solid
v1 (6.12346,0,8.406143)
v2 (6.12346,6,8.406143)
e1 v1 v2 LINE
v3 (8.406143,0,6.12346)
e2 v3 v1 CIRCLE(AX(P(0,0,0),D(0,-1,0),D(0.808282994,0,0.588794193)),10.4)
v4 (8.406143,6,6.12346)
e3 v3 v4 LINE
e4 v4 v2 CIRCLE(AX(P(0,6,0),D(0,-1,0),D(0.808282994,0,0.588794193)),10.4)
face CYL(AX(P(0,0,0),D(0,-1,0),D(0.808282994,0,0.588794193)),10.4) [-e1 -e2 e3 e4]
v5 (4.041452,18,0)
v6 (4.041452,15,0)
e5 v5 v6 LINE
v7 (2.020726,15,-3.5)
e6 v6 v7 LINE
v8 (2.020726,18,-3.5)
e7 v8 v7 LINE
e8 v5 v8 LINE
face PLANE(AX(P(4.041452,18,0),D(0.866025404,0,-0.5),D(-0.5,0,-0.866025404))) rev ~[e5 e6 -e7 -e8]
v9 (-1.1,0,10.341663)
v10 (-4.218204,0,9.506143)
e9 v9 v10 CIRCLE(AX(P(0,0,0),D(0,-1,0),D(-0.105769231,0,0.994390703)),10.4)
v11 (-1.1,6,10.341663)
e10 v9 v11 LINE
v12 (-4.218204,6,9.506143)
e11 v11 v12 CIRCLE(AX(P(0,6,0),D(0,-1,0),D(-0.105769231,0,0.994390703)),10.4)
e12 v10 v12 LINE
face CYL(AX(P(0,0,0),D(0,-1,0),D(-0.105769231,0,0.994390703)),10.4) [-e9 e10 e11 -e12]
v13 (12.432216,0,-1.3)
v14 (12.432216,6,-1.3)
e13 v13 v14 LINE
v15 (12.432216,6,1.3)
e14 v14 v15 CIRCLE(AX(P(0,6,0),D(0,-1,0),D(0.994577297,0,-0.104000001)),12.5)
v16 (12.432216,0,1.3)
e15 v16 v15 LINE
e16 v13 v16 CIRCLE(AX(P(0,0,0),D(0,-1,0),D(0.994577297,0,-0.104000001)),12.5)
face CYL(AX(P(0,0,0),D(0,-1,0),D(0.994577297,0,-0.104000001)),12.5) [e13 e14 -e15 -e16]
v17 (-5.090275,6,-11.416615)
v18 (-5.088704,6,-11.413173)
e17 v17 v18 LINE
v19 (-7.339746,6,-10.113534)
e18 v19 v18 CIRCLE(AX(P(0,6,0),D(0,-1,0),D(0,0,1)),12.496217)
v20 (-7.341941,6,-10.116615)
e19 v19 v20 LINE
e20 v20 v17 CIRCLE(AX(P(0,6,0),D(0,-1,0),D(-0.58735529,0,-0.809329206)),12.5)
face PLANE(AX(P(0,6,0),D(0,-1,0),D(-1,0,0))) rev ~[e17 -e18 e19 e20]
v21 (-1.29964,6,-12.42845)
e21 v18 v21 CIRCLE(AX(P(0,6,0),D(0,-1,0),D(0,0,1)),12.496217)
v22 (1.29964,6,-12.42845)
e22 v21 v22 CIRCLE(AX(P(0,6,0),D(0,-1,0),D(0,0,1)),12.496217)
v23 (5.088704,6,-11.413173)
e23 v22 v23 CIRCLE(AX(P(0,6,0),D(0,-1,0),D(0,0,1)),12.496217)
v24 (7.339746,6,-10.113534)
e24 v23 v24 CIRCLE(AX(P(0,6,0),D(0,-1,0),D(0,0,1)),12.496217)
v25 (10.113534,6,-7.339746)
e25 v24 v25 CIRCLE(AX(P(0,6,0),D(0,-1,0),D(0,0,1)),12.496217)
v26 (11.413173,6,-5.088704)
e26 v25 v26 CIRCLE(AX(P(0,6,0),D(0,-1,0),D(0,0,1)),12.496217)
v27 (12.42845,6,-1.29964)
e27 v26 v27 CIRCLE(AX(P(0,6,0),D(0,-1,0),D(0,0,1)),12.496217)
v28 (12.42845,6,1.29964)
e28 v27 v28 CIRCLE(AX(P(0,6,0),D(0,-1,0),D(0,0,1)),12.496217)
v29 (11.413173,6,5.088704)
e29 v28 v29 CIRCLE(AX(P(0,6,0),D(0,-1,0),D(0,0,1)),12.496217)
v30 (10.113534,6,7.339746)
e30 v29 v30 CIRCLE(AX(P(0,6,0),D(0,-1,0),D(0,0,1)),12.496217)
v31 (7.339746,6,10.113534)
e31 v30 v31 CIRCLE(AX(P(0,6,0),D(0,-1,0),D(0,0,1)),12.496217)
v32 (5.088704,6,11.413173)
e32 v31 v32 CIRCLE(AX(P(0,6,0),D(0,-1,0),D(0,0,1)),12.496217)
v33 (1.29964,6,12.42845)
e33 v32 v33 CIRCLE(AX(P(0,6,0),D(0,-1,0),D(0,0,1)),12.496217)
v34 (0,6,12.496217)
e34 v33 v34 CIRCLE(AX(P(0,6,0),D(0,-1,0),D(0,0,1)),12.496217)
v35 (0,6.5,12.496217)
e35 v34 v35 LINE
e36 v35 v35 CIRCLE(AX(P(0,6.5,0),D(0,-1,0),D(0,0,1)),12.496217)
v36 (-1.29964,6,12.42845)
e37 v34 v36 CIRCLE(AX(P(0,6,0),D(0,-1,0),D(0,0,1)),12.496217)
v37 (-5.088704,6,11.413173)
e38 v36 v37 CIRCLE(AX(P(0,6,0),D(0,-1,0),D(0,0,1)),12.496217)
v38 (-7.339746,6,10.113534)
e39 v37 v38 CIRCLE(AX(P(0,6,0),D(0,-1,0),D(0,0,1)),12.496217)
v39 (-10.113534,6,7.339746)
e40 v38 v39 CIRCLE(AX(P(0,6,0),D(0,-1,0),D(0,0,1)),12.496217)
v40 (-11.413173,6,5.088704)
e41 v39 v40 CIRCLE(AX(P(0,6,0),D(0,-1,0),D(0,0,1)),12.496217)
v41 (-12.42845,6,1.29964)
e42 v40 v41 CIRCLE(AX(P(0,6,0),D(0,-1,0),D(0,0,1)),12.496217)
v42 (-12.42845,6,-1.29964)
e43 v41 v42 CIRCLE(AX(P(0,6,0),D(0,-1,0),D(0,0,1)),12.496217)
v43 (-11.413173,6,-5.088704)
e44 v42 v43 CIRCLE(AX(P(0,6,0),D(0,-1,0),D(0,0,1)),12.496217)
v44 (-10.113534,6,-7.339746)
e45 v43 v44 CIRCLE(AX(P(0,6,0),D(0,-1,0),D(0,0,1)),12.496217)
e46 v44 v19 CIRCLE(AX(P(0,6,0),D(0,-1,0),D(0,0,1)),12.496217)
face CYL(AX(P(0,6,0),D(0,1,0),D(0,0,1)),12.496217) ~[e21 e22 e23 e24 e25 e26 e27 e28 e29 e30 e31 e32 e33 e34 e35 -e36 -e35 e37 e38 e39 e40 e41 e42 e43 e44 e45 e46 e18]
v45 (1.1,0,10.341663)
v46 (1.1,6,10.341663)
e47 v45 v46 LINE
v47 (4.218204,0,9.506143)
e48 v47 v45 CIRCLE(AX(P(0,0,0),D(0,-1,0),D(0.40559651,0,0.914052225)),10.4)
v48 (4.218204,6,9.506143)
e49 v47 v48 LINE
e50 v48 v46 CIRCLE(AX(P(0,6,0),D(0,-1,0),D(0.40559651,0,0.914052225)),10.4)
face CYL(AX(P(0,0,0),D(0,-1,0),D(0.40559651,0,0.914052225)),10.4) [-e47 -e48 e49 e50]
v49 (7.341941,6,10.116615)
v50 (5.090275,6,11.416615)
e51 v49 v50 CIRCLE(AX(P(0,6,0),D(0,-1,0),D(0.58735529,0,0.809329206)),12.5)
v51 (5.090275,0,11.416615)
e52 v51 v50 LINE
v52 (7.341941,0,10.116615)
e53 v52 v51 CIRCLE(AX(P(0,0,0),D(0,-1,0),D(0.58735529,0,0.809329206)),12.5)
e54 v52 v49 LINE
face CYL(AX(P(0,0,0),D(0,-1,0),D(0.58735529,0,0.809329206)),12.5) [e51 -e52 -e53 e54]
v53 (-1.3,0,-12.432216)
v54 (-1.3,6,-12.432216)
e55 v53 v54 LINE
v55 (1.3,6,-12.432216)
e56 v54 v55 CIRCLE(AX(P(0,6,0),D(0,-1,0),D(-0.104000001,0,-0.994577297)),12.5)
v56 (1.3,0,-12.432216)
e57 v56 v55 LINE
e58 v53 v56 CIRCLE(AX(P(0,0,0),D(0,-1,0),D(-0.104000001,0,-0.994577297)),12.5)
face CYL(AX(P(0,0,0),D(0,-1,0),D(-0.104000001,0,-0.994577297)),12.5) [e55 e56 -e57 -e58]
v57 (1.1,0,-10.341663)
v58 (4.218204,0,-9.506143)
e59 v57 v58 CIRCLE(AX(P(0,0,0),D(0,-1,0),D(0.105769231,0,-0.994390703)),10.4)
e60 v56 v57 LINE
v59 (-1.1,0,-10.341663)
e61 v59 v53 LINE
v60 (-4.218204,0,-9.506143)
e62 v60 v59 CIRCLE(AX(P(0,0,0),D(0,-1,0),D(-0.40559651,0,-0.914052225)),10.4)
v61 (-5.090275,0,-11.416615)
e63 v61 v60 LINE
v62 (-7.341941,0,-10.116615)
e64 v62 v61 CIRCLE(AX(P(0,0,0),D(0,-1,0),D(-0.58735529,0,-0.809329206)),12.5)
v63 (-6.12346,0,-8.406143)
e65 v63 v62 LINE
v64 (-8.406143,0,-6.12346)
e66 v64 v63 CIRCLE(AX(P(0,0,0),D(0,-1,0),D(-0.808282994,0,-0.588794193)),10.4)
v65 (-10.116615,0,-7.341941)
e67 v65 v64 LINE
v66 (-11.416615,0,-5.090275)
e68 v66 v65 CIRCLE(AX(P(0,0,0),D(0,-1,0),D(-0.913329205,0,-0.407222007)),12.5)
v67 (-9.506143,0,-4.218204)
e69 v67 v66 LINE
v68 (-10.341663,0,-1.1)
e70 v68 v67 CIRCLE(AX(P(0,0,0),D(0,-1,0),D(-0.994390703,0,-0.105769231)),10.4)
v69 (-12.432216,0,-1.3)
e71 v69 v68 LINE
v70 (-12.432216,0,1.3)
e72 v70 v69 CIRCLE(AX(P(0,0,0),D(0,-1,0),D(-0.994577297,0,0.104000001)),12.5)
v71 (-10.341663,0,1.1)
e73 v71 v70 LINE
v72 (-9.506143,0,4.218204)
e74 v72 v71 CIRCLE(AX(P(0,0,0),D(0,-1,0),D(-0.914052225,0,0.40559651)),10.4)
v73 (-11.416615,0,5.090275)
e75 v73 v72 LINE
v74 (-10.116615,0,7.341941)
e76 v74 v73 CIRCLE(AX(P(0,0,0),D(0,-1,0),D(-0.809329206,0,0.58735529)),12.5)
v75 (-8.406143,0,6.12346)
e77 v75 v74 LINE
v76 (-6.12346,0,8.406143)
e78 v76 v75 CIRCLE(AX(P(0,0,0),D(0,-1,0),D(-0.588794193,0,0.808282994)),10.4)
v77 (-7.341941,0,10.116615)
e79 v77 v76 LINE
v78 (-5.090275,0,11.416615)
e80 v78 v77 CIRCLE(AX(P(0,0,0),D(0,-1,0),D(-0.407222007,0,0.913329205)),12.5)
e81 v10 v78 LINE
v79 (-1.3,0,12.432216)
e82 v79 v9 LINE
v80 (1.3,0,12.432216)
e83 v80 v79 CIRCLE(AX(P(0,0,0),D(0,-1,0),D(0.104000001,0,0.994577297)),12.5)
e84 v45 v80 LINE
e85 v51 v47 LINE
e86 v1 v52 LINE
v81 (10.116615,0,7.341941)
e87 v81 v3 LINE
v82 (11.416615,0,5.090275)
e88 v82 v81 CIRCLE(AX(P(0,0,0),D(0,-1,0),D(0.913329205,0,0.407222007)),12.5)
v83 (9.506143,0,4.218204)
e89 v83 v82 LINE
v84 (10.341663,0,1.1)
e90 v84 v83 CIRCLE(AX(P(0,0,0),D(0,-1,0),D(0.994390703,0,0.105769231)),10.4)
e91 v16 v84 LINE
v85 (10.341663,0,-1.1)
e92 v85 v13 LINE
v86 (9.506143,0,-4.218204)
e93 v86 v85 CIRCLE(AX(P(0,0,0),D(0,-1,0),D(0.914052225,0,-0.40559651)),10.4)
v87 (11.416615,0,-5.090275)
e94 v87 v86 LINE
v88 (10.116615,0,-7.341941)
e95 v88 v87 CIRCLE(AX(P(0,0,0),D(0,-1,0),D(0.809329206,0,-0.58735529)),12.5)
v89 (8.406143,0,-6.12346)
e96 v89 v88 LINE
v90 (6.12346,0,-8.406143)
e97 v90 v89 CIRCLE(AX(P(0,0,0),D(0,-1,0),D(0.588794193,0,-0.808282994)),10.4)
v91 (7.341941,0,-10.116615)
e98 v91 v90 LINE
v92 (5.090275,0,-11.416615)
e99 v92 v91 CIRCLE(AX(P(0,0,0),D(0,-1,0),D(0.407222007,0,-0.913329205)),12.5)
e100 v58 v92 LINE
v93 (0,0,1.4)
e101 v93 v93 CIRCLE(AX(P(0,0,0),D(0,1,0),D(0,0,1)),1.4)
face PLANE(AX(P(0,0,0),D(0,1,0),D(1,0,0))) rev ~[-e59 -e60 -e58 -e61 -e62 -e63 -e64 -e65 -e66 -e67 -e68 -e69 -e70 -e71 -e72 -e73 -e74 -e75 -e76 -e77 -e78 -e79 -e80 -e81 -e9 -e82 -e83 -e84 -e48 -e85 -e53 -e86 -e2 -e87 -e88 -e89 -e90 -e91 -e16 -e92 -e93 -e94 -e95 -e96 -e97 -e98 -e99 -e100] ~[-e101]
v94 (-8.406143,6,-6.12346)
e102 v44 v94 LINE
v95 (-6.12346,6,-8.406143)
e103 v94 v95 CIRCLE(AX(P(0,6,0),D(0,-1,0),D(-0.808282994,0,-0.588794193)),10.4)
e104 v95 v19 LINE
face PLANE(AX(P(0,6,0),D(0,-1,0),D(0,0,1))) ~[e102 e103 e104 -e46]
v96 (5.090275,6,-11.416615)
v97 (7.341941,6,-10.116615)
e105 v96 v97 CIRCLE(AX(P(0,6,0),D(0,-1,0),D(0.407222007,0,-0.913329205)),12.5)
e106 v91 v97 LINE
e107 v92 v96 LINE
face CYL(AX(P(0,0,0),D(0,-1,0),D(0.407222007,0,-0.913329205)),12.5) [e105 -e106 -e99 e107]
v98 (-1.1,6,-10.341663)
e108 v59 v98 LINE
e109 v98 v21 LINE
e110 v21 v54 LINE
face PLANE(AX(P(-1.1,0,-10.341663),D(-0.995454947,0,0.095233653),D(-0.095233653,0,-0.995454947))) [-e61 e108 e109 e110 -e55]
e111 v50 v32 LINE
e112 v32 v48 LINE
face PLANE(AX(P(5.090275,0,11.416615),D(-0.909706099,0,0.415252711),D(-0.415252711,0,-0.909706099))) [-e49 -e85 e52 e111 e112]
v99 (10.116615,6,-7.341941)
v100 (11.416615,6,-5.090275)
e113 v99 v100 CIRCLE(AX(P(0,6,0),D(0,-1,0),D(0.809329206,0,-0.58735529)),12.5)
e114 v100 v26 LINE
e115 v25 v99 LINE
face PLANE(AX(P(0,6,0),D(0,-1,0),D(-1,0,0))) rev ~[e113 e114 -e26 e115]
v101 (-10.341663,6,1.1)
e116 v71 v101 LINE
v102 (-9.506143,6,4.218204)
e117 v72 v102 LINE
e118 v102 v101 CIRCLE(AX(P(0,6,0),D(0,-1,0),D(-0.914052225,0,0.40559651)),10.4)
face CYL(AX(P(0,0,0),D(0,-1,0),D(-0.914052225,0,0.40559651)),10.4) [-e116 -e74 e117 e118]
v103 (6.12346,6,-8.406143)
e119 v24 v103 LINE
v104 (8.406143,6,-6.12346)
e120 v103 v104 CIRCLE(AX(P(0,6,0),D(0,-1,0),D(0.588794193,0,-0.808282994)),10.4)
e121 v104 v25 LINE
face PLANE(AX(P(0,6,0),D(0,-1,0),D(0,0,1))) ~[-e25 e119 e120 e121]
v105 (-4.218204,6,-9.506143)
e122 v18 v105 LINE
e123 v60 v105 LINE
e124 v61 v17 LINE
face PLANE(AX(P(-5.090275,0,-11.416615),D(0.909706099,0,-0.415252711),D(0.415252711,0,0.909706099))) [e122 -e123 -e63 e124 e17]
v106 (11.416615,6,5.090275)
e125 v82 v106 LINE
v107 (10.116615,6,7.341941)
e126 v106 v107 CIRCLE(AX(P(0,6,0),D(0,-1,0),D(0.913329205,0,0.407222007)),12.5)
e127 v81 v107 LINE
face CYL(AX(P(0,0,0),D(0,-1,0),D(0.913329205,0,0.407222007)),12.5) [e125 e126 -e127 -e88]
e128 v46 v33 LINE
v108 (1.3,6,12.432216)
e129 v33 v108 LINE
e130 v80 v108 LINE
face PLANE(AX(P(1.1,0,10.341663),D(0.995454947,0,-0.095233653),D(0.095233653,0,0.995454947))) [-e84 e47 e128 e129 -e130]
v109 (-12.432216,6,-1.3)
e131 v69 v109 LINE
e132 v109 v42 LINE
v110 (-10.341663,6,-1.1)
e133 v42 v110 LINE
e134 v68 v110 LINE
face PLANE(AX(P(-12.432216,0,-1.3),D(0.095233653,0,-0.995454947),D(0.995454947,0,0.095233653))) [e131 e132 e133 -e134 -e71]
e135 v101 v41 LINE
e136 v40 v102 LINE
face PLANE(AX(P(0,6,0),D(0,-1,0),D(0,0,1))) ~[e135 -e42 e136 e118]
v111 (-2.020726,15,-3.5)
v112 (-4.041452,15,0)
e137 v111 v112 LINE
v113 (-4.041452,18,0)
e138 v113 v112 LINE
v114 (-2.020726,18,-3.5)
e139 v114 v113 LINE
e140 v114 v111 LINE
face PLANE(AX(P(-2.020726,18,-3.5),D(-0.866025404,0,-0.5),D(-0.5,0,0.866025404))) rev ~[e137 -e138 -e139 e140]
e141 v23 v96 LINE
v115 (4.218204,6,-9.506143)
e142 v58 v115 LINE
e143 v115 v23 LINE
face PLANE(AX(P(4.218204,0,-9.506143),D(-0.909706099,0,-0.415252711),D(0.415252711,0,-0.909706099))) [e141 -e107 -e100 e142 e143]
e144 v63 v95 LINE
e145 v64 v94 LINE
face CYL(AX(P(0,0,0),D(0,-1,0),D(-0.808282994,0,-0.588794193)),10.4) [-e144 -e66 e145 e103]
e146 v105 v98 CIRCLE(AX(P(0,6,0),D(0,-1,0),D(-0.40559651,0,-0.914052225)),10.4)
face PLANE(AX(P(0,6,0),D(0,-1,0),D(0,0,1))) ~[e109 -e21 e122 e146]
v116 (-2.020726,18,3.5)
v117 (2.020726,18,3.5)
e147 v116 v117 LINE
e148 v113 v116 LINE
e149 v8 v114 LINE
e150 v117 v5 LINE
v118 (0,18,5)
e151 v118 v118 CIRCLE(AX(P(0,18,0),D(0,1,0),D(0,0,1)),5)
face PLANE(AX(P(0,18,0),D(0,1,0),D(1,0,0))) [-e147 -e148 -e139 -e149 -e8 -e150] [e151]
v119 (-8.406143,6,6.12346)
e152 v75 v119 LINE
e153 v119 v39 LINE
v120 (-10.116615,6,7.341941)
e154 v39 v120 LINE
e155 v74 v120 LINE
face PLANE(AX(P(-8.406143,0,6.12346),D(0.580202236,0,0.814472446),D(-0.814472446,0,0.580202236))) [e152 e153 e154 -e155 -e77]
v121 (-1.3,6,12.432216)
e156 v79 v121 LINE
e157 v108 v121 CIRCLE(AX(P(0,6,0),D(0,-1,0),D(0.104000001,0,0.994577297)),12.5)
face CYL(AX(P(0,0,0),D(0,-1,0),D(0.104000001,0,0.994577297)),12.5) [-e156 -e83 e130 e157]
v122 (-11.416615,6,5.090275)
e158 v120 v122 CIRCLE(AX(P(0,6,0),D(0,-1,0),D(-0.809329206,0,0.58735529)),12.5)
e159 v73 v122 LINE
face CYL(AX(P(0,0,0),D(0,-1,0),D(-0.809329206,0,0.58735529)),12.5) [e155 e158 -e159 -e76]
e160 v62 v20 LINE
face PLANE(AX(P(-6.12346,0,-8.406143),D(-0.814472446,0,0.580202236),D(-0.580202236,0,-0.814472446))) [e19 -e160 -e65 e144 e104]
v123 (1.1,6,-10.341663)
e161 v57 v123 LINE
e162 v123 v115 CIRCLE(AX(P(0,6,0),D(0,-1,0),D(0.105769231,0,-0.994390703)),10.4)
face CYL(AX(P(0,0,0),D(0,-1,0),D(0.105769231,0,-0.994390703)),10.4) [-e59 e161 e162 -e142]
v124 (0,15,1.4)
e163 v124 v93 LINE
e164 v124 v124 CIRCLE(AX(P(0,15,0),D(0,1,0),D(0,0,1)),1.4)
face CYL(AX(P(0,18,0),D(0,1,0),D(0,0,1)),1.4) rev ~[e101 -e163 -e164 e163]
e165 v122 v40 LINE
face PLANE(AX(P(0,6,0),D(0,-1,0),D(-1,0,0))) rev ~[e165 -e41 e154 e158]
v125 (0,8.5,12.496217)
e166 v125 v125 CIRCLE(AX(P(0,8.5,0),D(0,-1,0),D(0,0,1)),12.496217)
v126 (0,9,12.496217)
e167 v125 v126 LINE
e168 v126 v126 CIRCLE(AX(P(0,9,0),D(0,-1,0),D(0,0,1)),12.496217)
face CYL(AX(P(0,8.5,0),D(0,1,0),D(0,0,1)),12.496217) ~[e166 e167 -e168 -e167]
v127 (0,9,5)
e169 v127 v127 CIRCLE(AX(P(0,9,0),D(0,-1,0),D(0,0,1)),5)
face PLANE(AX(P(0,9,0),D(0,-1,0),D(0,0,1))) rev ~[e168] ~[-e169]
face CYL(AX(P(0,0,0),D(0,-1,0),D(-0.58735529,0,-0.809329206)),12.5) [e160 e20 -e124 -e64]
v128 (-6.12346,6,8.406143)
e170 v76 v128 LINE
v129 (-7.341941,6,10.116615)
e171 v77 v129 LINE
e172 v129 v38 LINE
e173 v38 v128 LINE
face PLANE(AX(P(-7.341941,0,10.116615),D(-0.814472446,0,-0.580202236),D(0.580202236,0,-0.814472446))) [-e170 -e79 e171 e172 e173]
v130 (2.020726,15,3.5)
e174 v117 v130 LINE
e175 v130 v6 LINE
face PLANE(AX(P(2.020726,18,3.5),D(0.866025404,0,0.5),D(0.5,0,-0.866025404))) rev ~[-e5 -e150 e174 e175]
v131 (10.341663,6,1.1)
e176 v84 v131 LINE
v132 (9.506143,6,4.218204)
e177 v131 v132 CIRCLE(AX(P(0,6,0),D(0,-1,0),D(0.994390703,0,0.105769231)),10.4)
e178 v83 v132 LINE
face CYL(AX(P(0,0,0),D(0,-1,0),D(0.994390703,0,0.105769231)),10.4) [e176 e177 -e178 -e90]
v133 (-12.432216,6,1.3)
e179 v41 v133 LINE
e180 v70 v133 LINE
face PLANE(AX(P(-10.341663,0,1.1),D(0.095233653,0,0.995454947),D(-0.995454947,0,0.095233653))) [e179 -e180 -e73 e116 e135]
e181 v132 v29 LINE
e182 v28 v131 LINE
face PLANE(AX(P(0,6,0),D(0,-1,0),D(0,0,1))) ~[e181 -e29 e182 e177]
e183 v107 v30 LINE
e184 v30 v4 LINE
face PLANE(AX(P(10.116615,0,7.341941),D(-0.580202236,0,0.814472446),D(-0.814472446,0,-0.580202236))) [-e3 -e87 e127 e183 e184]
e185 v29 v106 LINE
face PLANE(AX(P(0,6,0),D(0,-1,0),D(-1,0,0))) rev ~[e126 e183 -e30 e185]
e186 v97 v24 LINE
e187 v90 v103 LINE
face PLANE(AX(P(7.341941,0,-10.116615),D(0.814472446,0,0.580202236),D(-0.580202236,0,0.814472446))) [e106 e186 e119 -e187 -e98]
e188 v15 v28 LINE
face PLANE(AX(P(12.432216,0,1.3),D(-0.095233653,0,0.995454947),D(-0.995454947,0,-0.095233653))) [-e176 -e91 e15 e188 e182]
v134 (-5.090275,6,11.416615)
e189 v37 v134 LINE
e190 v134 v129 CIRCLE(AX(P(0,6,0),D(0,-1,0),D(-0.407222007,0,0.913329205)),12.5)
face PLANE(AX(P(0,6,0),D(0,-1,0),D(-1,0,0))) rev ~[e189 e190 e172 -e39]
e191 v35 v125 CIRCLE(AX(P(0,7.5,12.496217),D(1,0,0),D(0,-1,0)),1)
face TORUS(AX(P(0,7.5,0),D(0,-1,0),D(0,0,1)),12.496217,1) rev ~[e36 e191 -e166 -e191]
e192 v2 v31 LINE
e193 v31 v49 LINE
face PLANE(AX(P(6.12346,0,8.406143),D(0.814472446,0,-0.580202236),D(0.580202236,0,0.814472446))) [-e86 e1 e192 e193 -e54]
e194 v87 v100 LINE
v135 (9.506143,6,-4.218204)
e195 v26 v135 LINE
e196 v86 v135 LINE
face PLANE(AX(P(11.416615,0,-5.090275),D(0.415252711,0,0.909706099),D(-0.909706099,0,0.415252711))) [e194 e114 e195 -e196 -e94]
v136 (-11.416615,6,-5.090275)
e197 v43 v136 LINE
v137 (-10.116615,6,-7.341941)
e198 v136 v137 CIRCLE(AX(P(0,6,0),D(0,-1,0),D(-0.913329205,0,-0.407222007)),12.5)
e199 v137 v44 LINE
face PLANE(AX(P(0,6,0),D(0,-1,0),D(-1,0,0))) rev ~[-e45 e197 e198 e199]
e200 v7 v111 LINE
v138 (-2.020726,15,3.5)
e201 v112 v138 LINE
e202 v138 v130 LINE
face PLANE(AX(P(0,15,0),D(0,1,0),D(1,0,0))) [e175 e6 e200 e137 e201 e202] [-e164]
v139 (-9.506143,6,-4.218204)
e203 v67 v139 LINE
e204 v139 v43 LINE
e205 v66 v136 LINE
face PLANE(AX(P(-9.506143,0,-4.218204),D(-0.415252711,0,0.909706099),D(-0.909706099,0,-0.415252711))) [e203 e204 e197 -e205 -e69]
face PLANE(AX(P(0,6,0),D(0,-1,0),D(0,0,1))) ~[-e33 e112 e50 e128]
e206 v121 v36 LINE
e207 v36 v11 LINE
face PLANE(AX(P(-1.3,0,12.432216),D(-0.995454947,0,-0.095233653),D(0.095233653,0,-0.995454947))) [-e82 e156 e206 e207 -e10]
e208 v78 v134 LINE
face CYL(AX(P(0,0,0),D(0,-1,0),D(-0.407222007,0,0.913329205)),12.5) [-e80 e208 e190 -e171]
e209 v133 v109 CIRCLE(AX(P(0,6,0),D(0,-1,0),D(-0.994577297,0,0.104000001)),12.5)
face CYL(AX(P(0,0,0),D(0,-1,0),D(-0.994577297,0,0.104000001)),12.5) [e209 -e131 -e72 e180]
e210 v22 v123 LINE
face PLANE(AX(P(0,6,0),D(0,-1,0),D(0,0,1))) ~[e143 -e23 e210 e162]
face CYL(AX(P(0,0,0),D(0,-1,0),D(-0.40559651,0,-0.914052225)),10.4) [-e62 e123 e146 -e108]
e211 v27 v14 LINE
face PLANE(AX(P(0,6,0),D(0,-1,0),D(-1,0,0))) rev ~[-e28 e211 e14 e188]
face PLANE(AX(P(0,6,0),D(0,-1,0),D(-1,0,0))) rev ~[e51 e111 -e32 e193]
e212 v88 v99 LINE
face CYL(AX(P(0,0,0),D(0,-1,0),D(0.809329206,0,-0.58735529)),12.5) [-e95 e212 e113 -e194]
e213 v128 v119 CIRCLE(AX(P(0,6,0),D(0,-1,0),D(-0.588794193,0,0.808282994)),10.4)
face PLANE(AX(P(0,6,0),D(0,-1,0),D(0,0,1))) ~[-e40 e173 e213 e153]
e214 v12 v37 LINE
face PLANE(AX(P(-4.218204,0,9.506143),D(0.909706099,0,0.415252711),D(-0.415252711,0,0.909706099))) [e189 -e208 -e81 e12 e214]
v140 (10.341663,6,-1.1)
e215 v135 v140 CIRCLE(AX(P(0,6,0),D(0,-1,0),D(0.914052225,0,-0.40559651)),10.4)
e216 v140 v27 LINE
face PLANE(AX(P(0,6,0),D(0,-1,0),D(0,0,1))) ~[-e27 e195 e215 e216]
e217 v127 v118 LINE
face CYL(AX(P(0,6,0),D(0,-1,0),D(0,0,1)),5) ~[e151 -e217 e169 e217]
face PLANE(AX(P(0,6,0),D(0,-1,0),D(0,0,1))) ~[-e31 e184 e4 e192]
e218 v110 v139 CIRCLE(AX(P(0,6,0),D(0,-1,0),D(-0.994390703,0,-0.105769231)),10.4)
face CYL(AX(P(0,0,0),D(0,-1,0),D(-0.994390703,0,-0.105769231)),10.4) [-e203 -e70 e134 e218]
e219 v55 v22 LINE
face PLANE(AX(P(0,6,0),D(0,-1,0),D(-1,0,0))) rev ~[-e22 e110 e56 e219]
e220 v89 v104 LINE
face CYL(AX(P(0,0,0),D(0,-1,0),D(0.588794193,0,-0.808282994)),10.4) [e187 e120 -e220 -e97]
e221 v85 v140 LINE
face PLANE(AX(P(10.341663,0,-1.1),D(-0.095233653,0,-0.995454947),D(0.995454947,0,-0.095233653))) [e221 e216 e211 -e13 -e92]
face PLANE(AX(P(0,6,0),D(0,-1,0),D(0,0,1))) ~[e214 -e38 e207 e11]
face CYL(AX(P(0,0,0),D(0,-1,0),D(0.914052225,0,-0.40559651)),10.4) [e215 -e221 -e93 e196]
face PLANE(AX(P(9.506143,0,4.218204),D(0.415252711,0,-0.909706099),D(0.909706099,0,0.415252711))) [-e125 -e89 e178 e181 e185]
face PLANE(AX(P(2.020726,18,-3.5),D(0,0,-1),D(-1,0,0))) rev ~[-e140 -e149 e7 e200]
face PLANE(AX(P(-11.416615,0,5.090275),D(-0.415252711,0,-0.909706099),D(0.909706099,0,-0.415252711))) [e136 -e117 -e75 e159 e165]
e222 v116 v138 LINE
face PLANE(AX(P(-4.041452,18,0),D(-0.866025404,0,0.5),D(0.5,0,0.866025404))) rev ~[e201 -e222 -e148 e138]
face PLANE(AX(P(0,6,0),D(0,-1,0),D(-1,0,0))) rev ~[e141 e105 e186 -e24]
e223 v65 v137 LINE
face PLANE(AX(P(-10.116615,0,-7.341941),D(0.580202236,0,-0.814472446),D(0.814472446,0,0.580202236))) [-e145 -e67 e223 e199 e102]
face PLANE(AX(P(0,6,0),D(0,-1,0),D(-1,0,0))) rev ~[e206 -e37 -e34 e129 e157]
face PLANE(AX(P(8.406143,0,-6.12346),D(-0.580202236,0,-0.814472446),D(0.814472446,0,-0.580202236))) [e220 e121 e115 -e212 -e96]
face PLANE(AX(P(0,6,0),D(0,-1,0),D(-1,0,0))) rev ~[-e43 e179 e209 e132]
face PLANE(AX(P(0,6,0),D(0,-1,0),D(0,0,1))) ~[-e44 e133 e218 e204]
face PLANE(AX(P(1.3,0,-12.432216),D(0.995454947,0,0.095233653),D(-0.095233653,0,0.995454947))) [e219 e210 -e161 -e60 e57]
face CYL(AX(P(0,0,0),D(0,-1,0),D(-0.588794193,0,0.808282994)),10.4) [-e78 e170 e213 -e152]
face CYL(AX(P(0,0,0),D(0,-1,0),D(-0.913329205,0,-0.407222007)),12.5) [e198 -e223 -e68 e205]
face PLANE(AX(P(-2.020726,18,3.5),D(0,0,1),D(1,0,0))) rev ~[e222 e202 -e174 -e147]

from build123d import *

# Parameters (mm, degrees)
EXTRUDE_1_DEPTH     = 6
SKETCH_3_R          = 1.4
CUT_EXTRUDE_1_DEPTH = 6
SKETCH_4_R          = 5
EXTRUDE_2_DEPTH     = 12
CUT_EXTRUDE_2_DEPTH = 12
SKETCH_6_R          = 1.5
CUT_EXTRUDE_3_DEPTH = 31
SKETCH_7_R          = 1.5
SKETCH_7_R_2        = 1.4
EXTRUDE_3_DEPTH     = 18
CUT_EXTRUDE_4_DEPTH = 3


with BuildPart() as part:
    # 草图2 → 凸台-拉伸1 (new body)
    with BuildSketch(Plane(origin=(0, 0, 0), x_dir=(1, 0, 0), z_dir=(0, 1, 0))):
        with BuildLine():
            Line((-1.1, 10.341663309), (-1.3, 12.432216214))
            ThreePointArc((-1.3, 12.432216214), (0, 12.5), (1.3, 12.432216214))
            Line((1.3, 12.432216214), (1.1, 10.341663309))
            ThreePointArc((1.1, 10.341663309), (2.691718069, 10.045628593), (4.21820371, 9.506143143))
            Line((4.21820371, 9.506143143), (5.090275082, 11.416615067))
            ThreePointArc((5.090275082, 11.416615067), (6.25, 10.825317547), (7.341941132, 10.116615067))
            Line((7.341941132, 10.116615067), (6.123459599, 8.406143143))
            ThreePointArc((6.123459599, 8.406143143), (7.353910524, 7.353910524), (8.406143143, 6.123459599))
            Line((8.406143143, 6.123459599), (10.116615067, 7.341941132))
            ThreePointArc((10.116615067, 7.341941132), (10.825317547, 6.25), (11.416615067, 5.090275082))
            Line((11.416615067, 5.090275082), (9.506143143, 4.21820371))
            ThreePointArc((9.506143143, 4.21820371), (10.045628593, 2.691718069), (10.341663309, 1.1))
            Line((10.341663309, 1.1), (12.432216214, 1.3))
            ThreePointArc((12.432216214, 1.3), (12.5, 0), (12.432216214, -1.3))
            Line((12.432216214, -1.3), (10.341663309, -1.1))
            ThreePointArc((10.341663309, -1.1), (10.045628593, -2.691718069), (9.506143143, -4.21820371))
            Line((9.506143143, -4.21820371), (11.416615067, -5.090275082))
            ThreePointArc((11.416615067, -5.090275082), (10.825317547, -6.25), (10.116615067, -7.341941132))
            Line((10.116615067, -7.341941132), (8.406143143, -6.123459599))
            ThreePointArc((8.406143143, -6.123459599), (7.353910524, -7.353910524), (6.123459599, -8.406143143))
            Line((6.123459599, -8.406143143), (7.341941132, -10.116615067))
            ThreePointArc((7.341941132, -10.116615067), (6.25, -10.825317547), (5.090275082, -11.416615067))
            Line((5.090275082, -11.416615067), (4.21820371, -9.506143143))
            ThreePointArc((4.21820371, -9.506143143), (2.691718069, -10.045628593), (1.1, -10.341663309))
            Line((1.1, -10.341663309), (1.3, -12.432216214))
            ThreePointArc((1.3, -12.432216214), (0, -12.5), (-1.3, -12.432216214))
            Line((-1.3, -12.432216214), (-1.1, -10.341663309))
            ThreePointArc((-1.1, -10.341663309), (-2.691718069, -10.045628593), (-4.21820371, -9.506143143))
            Line((-4.21820371, -9.506143143), (-5.090275082, -11.416615067))
            ThreePointArc((-5.090275082, -11.416615067), (-6.25, -10.825317547), (-7.341941132, -10.116615067))
            Line((-7.341941132, -10.116615067), (-6.123459599, -8.406143143))
            ThreePointArc((-6.123459599, -8.406143143), (-7.353910524, -7.353910524), (-8.406143143, -6.123459599))
            Line((-8.406143143, -6.123459599), (-10.116615067, -7.341941132))
            ThreePointArc((-10.116615067, -7.341941132), (-10.825317547, -6.25), (-11.416615067, -5.090275082))
            Line((-11.416615067, -5.090275082), (-9.506143143, -4.21820371))
            ThreePointArc((-9.506143143, -4.21820371), (-10.045628593, -2.691718069), (-10.341663309, -1.1))
            Line((-10.341663309, -1.1), (-12.432216214, -1.3))
            ThreePointArc((-12.432216214, -1.3), (-12.5, 0), (-12.432216214, 1.3))
            Line((-12.432216214, 1.3), (-10.341663309, 1.1))
            ThreePointArc((-10.341663309, 1.1), (-10.045628593, 2.691718069), (-9.506143143, 4.21820371))
            Line((-9.506143143, 4.21820371), (-11.416615067, 5.090275082))
            ThreePointArc((-11.416615067, 5.090275082), (-10.825317547, 6.25), (-10.116615067, 7.341941132))
            Line((-10.116615067, 7.341941132), (-8.406143143, 6.123459599))
            ThreePointArc((-8.406143143, 6.123459599), (-7.353910524, 7.353910524), (-6.123459599, 8.406143143))
            Line((-6.123459599, 8.406143143), (-7.341941132, 10.116615067))
            ThreePointArc((-7.341941132, 10.116615067), (-6.25, 10.825317547), (-5.090275082, 11.416615067))
            Line((-5.090275082, 11.416615067), (-4.21820371, 9.506143143))
            ThreePointArc((-4.21820371, 9.506143143), (-2.691718069, 10.045628593), (-1.1, 10.341663309))
        make_face()
    extrude(amount=EXTRUDE_1_DEPTH)

    # 草图3 → 切除-拉伸1 (cut)
    with BuildSketch(Plane(origin=(0, 6, 0), x_dir=(1, 0, 0), z_dir=(0, 1, 0))):
        with Locations(Location((0, 0, 0), (0, 0, 270))):
            Circle(SKETCH_3_R)
    extrude(amount=-CUT_EXTRUDE_1_DEPTH, mode=Mode.SUBTRACT)

    # 草图4 → 凸台-拉伸2 (add)
    with BuildSketch(Plane(origin=(0, 6, 0), x_dir=(1, 0, 0), z_dir=(0, 1, 0))):
        with Locations(Location((0, 0, 0), (0, 0, 270))):
            Circle(SKETCH_4_R)
    extrude(amount=EXTRUDE_2_DEPTH)

    # 草图5 → 切除-拉伸2 (cut)
    with BuildSketch(Plane(origin=(0, 18, 0), x_dir=(1, 0, 0), z_dir=(0, 1, 0))):
        with BuildLine():
            Line((-1, -1.118033989), (1, -1.118033989))
            ThreePointArc((1, -1.118033989), (0, 1.5), (-1, -1.118033989))
        make_face()
    extrude(amount=-CUT_EXTRUDE_2_DEPTH, mode=Mode.SUBTRACT)

    # 草图6 → 切除-拉伸3 (cut)
    with BuildSketch(Plane(origin=(0, 18, 0), x_dir=(1, 0, 0), z_dir=(0, 1, 0))):
        with Locations(Location((0, 0, 0), (0, 0, 270))):
            Circle(SKETCH_6_R)
    extrude(amount=-CUT_EXTRUDE_3_DEPTH, mode=Mode.SUBTRACT)

    # 草图7 → 凸台-拉伸3 (add)
    with BuildSketch(Plane(origin=(0, 18, 0), x_dir=(1, 0, 0), z_dir=(0, 1, 0))):
        Circle(SKETCH_7_R)
        with Locations(Location((0, 0, 0), (0, 0, 270))):
            Circle(SKETCH_7_R_2, mode=Mode.SUBTRACT)
    extrude(amount=-EXTRUDE_3_DEPTH)

    # 草图8 → 切除-拉伸4 (cut)
    with BuildSketch(Plane(origin=(0, 18, 0), x_dir=(1, 0, 0), z_dir=(0, 1, 0))):
        Polygon((4.041451884, 0), (2.020725942, 3.5), (-2.020725942, 3.5), (-4.041451884, 0), (-2.020725942, -3.5), (2.020725942, -3.5), align=None)
    extrude(amount=-CUT_EXTRUDE_4_DEPTH, mode=Mode.SUBTRACT)

    # 草图9 → 旋转1 (revolve)
    with BuildSketch(Plane(origin=(0, 0, 0), x_dir=(0, 0, -1), z_dir=(1, 0, 0)), mode=Mode.PRIVATE) as revolve_1_sk:
        with BuildLine():
            Line((5, 6), (12.496216833, 6))
            Line((12.496216833, 6), (12.496216833, 6.5))
            ThreePointArc((12.496216833, 6.5), (11.496216833, 7.5), (12.496216833, 8.5))
            Line((12.496216833, 8.5), (12.496216833, 9))
            Line((12.496216833, 9), (5, 9))
            Line((5, 9), (5, 6))
        make_face()
    revolve(revolve_1_sk.sketch.rotate(Axis((0, 17.668891616, 0), (0, -1, 0)), 180), axis=Axis((0, 17.668891616, 0), (0, -1, 0)))


solid = part.part
